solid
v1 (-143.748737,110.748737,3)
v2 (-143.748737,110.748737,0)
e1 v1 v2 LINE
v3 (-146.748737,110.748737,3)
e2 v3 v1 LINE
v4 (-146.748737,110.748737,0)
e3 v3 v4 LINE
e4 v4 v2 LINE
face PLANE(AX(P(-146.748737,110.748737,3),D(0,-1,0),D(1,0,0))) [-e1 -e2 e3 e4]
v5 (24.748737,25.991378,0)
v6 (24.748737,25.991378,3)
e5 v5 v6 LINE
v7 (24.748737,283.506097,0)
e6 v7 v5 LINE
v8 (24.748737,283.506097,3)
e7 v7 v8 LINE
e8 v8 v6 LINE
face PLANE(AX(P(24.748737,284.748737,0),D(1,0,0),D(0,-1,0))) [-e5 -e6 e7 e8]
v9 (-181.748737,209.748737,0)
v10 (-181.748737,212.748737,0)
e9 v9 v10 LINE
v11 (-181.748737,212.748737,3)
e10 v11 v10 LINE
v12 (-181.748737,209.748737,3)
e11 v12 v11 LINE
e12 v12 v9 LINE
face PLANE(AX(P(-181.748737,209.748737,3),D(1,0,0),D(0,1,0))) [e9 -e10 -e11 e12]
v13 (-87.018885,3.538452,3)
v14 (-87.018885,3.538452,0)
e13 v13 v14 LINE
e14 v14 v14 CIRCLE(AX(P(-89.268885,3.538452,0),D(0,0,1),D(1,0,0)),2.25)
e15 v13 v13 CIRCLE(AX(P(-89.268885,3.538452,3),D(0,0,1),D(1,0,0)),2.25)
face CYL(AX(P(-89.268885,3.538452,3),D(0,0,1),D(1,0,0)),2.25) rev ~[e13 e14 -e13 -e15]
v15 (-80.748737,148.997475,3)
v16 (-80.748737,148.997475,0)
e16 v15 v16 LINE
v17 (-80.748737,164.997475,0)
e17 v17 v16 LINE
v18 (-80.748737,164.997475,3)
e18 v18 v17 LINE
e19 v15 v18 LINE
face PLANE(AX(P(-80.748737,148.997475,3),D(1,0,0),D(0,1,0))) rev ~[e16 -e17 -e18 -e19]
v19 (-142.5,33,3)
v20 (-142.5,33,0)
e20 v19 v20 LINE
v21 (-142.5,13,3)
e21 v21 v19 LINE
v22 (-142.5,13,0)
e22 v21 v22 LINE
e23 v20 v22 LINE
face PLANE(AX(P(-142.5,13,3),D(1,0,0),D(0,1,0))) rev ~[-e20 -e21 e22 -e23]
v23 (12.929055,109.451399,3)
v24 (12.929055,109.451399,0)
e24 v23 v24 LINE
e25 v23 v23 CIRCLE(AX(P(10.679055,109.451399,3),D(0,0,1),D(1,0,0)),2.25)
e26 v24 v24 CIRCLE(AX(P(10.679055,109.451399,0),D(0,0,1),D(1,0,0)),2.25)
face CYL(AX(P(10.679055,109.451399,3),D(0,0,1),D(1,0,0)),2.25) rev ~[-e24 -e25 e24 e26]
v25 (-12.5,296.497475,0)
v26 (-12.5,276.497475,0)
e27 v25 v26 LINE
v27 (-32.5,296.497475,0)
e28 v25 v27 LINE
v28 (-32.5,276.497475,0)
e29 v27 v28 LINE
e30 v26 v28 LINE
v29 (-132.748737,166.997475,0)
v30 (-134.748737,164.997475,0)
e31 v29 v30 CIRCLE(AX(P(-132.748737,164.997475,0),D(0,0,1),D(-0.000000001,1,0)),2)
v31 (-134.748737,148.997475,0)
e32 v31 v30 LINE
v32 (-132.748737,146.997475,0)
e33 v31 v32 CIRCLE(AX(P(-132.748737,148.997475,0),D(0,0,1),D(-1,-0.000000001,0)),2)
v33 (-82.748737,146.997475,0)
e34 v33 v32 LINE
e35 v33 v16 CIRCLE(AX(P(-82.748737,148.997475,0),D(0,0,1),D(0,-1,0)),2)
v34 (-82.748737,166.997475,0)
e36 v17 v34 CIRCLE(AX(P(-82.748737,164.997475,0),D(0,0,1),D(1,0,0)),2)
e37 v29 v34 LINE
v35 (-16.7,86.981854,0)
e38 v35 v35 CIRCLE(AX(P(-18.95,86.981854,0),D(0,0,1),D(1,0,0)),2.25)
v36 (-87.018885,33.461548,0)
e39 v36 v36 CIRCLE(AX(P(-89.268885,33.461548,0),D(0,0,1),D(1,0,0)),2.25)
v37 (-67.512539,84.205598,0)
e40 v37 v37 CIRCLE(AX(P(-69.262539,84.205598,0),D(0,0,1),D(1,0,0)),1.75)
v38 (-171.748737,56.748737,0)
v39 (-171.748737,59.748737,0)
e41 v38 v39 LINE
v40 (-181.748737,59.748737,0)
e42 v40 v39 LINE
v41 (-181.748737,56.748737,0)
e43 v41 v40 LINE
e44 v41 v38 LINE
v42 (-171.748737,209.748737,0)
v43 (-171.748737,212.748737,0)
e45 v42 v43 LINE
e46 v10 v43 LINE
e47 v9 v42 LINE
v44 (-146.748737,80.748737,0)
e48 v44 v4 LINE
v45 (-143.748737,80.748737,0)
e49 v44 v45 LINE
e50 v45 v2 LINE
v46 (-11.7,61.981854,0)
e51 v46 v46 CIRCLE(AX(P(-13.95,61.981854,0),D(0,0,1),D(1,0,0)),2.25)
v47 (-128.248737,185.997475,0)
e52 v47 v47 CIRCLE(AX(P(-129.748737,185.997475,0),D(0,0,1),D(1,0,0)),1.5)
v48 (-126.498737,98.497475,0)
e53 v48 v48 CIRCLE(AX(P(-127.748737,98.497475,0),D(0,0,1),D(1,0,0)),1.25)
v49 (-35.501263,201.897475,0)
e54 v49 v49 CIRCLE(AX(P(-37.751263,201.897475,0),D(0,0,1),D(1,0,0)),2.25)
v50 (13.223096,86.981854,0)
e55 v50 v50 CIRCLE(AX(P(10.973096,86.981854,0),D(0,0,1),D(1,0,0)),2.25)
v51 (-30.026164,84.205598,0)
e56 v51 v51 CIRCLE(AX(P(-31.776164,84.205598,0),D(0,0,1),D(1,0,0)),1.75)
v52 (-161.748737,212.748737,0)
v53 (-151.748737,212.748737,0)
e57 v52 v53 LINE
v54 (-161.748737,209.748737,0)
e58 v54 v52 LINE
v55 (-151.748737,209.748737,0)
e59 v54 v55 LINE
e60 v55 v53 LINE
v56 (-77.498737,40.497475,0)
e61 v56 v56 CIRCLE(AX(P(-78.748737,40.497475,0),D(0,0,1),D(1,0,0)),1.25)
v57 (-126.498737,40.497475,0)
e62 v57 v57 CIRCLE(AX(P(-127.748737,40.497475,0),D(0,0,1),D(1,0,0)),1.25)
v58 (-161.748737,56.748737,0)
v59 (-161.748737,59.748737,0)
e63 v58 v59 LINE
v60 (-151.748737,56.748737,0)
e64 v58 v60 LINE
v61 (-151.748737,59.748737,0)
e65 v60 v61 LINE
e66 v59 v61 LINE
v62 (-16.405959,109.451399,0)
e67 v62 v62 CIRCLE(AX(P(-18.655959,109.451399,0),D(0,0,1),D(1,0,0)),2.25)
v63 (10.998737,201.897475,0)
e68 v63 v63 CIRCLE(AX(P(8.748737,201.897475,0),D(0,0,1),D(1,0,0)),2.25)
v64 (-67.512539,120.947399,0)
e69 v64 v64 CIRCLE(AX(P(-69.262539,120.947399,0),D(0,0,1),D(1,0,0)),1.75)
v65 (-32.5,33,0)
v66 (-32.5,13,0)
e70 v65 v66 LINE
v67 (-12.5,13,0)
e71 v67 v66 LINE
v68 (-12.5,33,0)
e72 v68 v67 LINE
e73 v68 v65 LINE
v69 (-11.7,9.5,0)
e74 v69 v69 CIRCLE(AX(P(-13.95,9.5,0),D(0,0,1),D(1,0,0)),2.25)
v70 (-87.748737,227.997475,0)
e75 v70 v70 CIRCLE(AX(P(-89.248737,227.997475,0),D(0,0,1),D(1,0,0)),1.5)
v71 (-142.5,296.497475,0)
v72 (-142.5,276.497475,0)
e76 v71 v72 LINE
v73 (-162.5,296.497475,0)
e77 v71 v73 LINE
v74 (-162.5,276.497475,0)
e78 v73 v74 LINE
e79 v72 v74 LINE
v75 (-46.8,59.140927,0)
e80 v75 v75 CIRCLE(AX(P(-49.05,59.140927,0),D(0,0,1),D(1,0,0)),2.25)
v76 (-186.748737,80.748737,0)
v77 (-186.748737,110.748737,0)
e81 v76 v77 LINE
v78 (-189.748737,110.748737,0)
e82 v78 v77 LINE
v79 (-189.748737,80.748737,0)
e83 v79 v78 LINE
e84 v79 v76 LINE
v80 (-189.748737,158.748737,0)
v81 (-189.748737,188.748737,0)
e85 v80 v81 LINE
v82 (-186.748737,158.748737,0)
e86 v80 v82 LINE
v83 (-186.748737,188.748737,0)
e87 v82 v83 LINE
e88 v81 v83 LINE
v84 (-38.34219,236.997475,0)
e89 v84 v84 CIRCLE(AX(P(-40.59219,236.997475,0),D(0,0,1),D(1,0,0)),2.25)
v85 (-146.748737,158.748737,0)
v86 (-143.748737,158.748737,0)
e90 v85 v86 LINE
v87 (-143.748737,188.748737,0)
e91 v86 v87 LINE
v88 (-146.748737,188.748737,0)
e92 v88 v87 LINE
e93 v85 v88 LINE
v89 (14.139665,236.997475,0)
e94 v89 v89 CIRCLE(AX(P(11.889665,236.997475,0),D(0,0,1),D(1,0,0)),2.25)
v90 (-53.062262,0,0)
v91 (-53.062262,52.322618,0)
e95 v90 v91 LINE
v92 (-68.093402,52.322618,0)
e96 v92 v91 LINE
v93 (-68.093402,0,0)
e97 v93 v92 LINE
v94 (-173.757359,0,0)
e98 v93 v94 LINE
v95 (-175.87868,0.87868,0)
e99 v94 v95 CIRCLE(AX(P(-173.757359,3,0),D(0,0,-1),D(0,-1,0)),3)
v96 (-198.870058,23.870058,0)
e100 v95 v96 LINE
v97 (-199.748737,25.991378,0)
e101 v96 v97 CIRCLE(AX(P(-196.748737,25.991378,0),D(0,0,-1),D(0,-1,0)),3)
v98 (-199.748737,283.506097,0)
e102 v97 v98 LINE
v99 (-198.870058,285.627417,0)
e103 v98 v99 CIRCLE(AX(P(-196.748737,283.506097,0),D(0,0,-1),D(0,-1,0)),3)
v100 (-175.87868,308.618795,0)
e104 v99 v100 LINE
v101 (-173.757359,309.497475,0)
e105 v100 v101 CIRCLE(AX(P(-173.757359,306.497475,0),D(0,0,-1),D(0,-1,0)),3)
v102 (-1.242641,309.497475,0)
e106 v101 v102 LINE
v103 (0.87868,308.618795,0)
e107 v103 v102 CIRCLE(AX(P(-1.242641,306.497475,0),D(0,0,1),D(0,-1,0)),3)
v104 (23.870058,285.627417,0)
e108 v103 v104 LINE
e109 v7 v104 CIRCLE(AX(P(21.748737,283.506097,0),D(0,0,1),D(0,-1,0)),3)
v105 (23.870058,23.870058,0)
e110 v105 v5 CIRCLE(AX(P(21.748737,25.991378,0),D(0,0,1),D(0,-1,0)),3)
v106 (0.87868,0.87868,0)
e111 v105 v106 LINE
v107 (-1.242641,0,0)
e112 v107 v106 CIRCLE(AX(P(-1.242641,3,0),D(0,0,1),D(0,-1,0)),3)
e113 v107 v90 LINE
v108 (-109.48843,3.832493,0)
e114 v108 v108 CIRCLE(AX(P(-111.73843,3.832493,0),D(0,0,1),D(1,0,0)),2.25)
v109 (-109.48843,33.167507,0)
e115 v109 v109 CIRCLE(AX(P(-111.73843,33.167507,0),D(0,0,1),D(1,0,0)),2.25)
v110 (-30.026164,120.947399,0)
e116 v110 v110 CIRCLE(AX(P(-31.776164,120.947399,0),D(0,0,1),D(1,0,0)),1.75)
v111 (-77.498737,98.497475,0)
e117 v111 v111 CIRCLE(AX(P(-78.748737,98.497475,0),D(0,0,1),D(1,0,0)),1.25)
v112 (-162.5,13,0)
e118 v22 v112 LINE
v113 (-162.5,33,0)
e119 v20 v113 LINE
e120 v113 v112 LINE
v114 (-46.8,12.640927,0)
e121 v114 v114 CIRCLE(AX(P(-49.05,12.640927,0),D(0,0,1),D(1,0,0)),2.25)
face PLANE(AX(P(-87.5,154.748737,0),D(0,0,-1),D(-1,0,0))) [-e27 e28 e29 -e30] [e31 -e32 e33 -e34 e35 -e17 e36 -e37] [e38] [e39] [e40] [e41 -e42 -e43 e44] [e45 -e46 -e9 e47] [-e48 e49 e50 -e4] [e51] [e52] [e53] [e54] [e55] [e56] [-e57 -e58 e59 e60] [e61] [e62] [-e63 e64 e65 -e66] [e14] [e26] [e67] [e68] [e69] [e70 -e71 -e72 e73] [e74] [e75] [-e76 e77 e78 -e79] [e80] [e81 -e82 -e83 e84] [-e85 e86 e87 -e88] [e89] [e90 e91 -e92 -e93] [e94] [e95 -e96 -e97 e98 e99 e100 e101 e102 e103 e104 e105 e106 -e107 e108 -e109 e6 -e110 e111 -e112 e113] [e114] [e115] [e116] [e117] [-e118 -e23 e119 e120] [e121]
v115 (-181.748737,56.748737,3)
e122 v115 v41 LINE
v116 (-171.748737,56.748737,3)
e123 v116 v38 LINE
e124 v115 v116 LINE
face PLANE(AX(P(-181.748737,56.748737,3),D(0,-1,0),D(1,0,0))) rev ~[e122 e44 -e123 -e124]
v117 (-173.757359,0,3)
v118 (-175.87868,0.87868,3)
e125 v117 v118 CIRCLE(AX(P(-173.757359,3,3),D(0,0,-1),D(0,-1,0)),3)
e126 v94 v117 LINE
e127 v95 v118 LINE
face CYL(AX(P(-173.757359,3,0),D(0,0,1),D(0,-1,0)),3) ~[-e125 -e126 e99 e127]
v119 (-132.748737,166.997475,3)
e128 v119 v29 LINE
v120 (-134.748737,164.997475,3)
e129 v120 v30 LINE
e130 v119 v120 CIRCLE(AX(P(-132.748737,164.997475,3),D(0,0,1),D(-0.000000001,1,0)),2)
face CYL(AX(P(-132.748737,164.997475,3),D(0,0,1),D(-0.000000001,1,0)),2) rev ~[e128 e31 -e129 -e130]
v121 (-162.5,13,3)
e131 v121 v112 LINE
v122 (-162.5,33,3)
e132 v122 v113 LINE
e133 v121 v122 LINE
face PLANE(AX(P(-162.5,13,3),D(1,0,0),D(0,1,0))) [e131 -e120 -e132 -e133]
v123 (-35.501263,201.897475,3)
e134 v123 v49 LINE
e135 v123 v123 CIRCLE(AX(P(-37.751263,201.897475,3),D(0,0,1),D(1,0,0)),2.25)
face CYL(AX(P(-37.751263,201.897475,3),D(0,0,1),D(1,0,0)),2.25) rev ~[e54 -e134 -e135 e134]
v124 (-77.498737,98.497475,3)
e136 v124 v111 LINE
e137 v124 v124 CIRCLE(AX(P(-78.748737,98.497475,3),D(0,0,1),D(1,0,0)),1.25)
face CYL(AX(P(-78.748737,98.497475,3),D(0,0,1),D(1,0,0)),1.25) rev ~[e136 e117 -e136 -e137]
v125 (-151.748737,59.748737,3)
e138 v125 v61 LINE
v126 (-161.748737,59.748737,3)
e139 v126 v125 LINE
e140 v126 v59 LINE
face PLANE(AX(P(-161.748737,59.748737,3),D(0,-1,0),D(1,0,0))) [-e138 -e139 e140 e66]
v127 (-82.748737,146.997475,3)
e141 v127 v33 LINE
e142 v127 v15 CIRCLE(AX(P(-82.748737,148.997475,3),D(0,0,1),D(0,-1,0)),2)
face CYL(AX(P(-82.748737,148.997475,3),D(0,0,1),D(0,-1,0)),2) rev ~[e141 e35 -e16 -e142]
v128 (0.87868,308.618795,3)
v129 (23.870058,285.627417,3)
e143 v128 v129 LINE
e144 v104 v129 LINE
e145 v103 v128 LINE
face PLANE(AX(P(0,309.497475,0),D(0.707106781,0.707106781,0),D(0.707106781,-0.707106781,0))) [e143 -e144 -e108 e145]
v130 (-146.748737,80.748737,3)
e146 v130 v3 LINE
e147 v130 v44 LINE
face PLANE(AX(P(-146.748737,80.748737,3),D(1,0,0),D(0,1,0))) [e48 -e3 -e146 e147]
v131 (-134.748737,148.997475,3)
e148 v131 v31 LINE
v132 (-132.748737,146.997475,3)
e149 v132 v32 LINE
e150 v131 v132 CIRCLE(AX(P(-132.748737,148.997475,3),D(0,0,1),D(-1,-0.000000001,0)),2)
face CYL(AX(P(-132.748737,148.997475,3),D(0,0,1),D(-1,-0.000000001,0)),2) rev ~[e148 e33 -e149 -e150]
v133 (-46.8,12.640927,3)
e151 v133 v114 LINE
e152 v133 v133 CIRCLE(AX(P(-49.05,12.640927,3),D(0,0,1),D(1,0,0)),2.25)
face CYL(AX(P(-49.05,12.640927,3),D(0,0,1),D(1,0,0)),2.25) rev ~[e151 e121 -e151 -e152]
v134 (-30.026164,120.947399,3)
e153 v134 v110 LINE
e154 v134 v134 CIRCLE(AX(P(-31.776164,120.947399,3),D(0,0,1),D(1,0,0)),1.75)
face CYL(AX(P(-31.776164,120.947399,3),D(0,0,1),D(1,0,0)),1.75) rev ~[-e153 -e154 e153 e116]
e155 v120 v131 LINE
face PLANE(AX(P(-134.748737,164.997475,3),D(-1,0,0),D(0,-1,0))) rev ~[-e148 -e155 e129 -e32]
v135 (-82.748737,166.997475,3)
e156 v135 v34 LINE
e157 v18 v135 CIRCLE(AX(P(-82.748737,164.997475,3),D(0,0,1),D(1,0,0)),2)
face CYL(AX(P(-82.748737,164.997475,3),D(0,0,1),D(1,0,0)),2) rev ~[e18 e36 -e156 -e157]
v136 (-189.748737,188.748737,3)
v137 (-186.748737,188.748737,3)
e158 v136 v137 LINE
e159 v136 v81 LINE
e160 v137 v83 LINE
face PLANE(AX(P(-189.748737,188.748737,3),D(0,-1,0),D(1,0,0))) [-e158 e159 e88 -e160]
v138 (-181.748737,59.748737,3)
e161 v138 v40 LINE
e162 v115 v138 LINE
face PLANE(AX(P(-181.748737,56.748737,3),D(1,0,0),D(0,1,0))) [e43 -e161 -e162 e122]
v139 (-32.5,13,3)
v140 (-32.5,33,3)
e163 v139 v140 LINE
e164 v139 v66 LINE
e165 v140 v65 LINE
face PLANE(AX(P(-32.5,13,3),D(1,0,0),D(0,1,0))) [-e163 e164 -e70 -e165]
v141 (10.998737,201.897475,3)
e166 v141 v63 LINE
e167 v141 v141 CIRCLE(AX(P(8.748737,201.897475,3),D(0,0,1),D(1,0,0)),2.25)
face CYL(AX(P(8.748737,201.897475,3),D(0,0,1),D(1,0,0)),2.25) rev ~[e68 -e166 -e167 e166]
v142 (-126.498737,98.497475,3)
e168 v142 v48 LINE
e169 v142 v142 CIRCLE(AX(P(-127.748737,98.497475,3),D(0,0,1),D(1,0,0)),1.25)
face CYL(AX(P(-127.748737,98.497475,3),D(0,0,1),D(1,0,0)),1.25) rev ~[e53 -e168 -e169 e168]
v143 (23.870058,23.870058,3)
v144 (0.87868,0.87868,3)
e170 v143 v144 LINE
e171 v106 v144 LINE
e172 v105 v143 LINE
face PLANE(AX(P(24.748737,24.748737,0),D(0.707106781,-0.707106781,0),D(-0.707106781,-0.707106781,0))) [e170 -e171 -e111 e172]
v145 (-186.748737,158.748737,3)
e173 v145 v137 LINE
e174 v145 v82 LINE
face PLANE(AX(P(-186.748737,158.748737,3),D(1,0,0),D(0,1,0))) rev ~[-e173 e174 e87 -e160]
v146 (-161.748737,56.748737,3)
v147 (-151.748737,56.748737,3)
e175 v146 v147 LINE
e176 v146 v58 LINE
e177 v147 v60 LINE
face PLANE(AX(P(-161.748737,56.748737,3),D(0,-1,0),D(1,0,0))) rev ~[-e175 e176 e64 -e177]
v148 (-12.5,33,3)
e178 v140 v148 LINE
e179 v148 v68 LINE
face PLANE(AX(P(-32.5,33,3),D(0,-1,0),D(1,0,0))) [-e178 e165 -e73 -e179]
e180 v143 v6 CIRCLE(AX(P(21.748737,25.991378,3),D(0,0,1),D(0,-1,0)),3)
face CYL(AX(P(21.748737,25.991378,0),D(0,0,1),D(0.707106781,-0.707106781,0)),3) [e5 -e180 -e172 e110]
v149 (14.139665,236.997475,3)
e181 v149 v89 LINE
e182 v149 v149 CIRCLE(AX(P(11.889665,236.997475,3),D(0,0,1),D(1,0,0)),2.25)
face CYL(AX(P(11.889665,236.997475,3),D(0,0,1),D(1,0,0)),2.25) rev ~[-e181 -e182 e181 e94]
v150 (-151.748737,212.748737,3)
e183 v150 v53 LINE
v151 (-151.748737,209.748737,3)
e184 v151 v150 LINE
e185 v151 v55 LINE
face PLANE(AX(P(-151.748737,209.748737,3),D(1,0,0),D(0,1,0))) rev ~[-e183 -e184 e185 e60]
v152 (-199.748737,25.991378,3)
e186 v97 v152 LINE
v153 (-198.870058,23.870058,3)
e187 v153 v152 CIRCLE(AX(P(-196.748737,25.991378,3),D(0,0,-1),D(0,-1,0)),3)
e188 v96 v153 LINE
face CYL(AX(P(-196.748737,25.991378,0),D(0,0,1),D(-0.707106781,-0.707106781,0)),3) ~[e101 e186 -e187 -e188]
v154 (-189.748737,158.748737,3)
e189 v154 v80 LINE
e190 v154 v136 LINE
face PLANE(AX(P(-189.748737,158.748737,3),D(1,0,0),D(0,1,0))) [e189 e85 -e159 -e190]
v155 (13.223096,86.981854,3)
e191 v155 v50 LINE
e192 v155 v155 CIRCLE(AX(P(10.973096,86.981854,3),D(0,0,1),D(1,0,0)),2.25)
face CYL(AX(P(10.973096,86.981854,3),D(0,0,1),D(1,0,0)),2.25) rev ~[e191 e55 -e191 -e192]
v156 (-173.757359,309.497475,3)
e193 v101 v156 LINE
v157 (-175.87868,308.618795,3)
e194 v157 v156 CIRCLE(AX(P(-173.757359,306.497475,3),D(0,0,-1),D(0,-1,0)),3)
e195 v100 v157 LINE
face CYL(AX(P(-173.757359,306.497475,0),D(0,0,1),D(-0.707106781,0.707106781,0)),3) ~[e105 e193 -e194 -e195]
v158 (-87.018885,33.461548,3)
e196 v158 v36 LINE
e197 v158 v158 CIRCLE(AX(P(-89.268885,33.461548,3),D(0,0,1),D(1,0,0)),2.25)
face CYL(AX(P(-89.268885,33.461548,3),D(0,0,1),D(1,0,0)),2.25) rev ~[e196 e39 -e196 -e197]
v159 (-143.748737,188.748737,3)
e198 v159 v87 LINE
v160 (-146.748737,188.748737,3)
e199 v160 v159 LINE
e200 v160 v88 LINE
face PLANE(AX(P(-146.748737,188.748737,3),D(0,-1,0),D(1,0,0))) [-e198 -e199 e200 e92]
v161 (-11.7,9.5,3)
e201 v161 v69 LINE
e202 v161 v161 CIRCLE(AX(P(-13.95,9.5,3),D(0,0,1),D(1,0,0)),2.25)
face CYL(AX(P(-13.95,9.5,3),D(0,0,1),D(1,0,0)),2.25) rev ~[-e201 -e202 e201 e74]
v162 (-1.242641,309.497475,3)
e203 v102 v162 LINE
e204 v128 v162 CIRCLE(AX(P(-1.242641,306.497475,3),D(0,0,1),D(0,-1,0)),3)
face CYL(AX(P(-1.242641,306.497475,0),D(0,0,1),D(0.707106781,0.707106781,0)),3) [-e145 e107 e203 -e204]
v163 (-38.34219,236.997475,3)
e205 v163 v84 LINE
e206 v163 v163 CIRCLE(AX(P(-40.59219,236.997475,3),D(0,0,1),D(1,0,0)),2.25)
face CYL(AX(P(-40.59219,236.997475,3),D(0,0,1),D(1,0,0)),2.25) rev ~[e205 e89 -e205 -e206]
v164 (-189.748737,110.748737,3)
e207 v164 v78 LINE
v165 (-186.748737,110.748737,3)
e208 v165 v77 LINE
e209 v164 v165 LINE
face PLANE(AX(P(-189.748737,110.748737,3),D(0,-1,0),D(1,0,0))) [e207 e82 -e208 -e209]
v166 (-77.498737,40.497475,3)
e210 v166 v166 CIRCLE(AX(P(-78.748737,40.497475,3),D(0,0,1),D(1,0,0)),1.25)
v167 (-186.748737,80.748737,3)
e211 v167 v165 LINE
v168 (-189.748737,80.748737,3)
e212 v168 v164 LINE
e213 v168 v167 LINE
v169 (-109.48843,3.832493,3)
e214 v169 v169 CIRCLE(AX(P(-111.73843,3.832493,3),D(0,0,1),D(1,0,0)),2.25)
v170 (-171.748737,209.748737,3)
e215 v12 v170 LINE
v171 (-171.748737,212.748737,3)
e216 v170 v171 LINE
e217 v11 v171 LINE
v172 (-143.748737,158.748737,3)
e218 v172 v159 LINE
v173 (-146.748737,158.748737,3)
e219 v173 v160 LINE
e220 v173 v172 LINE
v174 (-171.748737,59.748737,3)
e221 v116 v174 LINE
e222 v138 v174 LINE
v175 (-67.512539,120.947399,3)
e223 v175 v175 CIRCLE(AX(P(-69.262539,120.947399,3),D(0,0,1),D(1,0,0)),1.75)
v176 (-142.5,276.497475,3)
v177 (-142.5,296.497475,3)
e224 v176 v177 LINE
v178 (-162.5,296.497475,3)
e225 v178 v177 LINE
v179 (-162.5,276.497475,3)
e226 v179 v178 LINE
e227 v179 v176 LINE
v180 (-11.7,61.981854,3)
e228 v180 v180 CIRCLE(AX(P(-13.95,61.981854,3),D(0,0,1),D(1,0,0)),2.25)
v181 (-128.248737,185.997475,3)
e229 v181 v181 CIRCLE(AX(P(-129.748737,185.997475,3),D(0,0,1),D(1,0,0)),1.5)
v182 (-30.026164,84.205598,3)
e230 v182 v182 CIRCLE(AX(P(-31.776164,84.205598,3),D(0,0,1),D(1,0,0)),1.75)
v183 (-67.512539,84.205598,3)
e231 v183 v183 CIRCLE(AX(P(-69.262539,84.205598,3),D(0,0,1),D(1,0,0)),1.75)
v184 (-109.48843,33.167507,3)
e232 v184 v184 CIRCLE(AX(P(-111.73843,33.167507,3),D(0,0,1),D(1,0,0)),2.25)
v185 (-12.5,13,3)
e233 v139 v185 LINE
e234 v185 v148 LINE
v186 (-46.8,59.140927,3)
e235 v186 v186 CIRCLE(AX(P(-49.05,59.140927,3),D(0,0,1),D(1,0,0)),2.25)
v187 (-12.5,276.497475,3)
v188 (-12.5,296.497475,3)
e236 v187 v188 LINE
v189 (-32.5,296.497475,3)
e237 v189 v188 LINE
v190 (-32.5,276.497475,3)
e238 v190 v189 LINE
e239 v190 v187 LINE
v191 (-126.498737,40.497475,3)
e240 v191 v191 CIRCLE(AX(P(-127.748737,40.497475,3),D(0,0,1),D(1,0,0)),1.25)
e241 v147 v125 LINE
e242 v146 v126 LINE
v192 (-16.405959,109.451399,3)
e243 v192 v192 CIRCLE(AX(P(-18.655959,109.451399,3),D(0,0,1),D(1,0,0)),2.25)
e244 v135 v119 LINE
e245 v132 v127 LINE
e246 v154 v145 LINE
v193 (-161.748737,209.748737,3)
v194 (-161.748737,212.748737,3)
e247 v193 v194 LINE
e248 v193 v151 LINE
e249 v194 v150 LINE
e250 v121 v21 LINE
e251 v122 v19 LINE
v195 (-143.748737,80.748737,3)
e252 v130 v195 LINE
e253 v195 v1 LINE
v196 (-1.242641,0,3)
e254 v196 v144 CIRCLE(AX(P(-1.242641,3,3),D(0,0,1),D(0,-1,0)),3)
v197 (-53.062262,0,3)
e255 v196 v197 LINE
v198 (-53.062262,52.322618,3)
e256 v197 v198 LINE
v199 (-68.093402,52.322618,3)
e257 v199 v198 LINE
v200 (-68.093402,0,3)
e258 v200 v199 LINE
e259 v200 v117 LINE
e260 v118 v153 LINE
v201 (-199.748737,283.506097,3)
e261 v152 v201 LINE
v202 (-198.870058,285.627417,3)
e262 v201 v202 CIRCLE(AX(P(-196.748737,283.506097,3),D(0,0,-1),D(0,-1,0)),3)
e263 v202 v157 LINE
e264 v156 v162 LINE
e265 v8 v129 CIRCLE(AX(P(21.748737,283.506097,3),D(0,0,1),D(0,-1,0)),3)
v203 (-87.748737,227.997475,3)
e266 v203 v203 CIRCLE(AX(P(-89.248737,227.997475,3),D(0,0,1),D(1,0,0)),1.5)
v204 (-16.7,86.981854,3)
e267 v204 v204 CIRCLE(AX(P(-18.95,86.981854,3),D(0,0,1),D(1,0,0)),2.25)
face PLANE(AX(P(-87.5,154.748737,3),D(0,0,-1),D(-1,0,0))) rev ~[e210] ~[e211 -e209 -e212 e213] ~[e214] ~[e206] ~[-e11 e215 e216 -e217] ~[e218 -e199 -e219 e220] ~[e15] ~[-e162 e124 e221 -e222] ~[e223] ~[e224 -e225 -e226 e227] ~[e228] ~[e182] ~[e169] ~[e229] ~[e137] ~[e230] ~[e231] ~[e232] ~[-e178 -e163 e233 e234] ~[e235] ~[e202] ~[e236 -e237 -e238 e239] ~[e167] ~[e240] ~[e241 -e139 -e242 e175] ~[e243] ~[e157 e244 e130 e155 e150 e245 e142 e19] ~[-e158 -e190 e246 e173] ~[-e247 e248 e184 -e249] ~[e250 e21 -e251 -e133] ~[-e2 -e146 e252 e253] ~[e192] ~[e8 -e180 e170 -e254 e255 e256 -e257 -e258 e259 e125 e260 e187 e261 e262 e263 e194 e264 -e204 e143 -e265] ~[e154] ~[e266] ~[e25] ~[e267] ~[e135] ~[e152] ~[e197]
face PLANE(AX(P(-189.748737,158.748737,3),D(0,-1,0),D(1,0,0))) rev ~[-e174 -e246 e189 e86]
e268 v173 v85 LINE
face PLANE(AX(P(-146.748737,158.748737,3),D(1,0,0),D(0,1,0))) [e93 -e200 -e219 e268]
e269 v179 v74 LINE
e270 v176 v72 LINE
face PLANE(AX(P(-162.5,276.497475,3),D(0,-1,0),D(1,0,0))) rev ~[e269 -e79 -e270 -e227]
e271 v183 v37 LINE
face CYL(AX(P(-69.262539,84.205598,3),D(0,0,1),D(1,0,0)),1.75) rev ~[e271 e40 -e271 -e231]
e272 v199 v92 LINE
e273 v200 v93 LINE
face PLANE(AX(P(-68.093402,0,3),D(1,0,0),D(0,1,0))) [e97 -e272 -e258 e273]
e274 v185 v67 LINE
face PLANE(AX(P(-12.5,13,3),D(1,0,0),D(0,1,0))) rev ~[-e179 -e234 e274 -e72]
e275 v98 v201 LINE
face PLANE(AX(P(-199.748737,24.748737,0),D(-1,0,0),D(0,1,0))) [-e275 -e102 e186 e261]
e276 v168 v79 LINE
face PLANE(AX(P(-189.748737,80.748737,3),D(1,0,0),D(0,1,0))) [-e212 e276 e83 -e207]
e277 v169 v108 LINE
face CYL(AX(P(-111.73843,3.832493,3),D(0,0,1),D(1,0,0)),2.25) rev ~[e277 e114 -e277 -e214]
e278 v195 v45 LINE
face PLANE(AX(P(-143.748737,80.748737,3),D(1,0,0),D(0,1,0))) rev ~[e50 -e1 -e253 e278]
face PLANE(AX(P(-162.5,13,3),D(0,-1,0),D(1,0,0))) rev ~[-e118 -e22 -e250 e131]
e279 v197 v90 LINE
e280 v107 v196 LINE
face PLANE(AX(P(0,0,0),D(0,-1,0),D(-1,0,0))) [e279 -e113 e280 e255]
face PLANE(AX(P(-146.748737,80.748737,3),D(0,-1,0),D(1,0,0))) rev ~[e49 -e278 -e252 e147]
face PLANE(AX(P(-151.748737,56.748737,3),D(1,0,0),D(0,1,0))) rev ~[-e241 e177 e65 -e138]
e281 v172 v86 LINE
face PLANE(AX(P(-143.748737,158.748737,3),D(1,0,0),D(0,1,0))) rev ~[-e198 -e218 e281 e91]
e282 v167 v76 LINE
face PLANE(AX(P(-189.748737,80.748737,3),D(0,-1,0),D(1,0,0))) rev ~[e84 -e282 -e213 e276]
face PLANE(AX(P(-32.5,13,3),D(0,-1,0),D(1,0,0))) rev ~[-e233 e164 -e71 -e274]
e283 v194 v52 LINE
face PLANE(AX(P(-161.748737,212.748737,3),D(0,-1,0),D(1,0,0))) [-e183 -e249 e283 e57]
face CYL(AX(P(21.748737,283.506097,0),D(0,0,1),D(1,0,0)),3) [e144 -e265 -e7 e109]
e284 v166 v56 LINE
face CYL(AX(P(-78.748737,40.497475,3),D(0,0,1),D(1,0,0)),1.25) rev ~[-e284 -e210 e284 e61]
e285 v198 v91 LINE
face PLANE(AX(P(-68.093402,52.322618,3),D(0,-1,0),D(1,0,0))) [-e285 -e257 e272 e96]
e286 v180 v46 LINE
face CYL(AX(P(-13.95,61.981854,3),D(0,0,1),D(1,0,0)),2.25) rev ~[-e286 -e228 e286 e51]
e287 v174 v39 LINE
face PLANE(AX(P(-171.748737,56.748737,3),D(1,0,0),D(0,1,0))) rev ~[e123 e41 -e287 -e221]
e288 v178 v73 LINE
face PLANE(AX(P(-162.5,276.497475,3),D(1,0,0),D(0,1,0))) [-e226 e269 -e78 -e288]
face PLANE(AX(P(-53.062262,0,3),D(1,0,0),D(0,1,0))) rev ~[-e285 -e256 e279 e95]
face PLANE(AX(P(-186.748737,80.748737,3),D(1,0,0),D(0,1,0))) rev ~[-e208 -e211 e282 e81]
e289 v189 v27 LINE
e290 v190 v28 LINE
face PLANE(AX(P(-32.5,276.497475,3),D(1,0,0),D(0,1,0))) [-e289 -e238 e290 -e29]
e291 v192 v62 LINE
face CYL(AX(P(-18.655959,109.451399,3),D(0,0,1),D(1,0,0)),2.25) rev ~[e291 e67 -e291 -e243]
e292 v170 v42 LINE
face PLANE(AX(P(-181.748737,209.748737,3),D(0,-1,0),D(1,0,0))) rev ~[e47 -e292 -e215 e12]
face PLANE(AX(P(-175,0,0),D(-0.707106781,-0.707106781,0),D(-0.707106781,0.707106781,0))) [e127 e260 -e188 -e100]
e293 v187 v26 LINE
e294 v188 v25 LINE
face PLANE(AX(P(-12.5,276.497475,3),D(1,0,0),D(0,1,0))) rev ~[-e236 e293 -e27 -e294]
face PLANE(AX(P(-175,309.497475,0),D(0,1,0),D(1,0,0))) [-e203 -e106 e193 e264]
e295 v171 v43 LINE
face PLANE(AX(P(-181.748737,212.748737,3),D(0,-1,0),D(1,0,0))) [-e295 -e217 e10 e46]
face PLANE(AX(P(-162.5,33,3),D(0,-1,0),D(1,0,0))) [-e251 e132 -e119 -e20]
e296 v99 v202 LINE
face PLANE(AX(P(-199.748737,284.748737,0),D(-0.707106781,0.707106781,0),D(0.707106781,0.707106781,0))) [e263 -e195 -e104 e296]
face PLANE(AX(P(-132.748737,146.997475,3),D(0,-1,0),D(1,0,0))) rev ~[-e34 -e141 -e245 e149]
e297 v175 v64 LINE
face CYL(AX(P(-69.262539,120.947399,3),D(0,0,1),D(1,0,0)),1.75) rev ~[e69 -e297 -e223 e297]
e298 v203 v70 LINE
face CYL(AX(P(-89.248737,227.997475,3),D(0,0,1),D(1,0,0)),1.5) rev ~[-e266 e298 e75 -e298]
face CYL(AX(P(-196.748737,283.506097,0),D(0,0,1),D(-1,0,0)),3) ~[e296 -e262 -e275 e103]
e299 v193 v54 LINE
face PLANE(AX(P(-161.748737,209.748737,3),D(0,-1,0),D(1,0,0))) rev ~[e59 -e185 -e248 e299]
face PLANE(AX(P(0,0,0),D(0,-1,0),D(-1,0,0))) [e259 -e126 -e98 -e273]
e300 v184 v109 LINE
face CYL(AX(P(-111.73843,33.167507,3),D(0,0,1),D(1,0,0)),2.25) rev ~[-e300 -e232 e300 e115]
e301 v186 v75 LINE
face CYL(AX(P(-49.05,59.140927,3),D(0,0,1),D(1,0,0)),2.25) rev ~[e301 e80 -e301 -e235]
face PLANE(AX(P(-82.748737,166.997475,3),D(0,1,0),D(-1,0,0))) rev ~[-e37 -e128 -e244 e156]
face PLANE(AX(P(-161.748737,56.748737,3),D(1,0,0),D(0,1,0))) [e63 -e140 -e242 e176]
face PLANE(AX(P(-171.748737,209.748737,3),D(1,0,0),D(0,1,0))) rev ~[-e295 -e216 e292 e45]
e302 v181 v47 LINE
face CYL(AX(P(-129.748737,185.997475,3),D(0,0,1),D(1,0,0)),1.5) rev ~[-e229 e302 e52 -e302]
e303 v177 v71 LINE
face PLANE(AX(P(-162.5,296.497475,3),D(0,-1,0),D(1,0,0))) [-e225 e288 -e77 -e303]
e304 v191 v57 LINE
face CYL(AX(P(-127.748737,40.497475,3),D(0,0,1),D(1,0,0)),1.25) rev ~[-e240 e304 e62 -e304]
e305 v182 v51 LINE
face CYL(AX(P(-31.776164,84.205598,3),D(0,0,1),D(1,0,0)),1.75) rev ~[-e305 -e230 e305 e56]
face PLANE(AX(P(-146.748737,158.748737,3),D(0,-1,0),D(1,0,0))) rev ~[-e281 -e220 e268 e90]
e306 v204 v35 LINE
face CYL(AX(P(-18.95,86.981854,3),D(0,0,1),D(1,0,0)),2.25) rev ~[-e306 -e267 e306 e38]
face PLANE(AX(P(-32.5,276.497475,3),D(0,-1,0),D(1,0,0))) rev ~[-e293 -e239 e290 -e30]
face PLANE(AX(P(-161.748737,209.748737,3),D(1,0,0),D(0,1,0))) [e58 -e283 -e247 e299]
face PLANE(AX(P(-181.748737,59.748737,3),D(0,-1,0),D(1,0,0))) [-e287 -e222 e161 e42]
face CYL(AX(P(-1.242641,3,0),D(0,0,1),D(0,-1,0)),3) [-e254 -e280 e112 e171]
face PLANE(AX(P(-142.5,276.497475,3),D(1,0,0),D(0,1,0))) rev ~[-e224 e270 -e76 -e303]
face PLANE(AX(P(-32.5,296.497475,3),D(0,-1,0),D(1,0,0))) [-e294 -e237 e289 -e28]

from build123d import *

# Parameters (mm, degrees)
BASE_DEPTH              = 3
ESQUISSE2_W             = 20
ESQUISSE2_H             = 20
ENL_V_MAT_EXTRU_1_DEPTH = 4
CONG_1_R                = 3
ESQUISSE4_R             = 1.25
ESQUISSE4_R_2           = 1.5
ENL_V_MAT_EXTRU_4_DEPTH = 4
ENL_V_MAT_EXTRU_5_REACH = 5
ESQUISSE5_R             = 2.25
ESQUISSE5_W             = 15.031140496
ESQUISSE5_H             = 52.322618027
PONT_H_MAL_PLACE_2_R    = 1.75
PONT_H_MAL_PLACE_DEPTH  = 3
ESQUISSE10_W            = 10
ESQUISSE10_H            = 3
ESQUISSE10_W_2          = 3
ESQUISSE10_H_2          = 30
ENL_V_MAT_EXTRU_7_DEPTH = 3


with BuildPart() as part:
    # Esquisse1 → Base (new body)
    with BuildSketch(Plane.XY):
        Polygon((0, 0), (-175, 0), (-199.748737342, 24.748737342), (-199.748737342, 284.748737342), (-175, 309.497474683), (0, 309.497474683), (24.748737342, 284.748737342), (24.748737342, 24.748737342), align=None)
    extrude(amount=BASE_DEPTH)

    # Esquisse2 → Enlèv. mat.-Extru.1 (cut, through all)
    with BuildSketch(Plane.XY.offset(3)):
        with Locations((-152.5, 286.497474683)):
            Rectangle(ESQUISSE2_W, ESQUISSE2_H)
        with Locations((-152.5, 23)):
            Rectangle(ESQUISSE2_W, ESQUISSE2_H)
        with Locations((-22.5, 23)):
            Rectangle(ESQUISSE2_W, ESQUISSE2_H)
        with Locations((-22.5, 286.497474683)):
            Rectangle(ESQUISSE2_W, ESQUISSE2_H)
    extrude(amount=-ENL_V_MAT_EXTRU_1_DEPTH, mode=Mode.SUBTRACT)

    # Congé1
    cong_1_edges = [part.edges().sort_by_distance(p)[0] for p in [
        (0, 0, 1.5),
        (-175, 0, 1.5),
        (-199.748737342, 24.748737342, 1.5),
        (-199.748737342, 284.748737342, 1.5),
        (-175, 309.497474683, 1.5),
        (0, 309.497474683, 1.5),
        (24.748737342, 284.748737342, 1.5),
        (24.748737342, 24.748737342, 1.5),
    ]]
    fillet(cong_1_edges, radius=CONG_1_R)

    # Esquisse4 → Enlèv. mat.-Extru.4 (cut, through all)
    with BuildSketch(Plane.XY.offset(3)):
        with Locations((-78.748737342, 98.497474683)):
            Circle(ESQUISSE4_R)
        with Locations((-127.748737342, 98.497474683)):
            Circle(ESQUISSE4_R)
        with Locations((-78.748737342, 40.497474683)):
            Circle(ESQUISSE4_R)
        with Locations((-127.748737342, 40.497474683)):
            Circle(ESQUISSE4_R)
        with Locations((-129.748737342, 185.997474683)):
            Circle(ESQUISSE4_R_2)
        with Locations((-89.248737342, 227.997474683)):
            Circle(ESQUISSE4_R_2)
        with BuildLine():
            Line((-82.748737342, 166.997474683), (-132.748737342, 166.997474683))
            ThreePointArc((-132.748737342, 166.997474683), (-134.162950904, 166.411688245), (-134.748737342, 164.997474683))
            Line((-134.748737342, 164.997474683), (-134.748737342, 148.997474683))
            ThreePointArc((-134.748737342, 148.997474683), (-134.162950904, 147.583261121), (-132.748737342, 146.997474683))
            Line((-132.748737342, 146.997474683), (-82.748737342, 146.997474683))
            ThreePointArc((-82.748737342, 146.997474683), (-81.334523779, 147.583261121), (-80.748737342, 148.997474683))
            Line((-80.748737342, 148.997474683), (-80.748737342, 164.997474683))
            ThreePointArc((-80.748737342, 164.997474683), (-81.334523779, 166.411688245), (-82.748737342, 166.997474683))
        make_face()
    extrude(amount=-ENL_V_MAT_EXTRU_4_DEPTH, mode=Mode.SUBTRACT)

    # Esquisse5 → Enlèv. mat.-Extru.5 (cut, up to next)
    with BuildSketch(Plane.XY.offset(3), mode=Mode.PRIVATE) as enl_v_mat_extru_5_sk1:
        with Locations((-111.738429941, 3.832493236)):
            Circle(ESQUISSE5_R)
    enl_v_mat_extru_5_tool1 = extrude(enl_v_mat_extru_5_sk1.sketch, amount=-ENL_V_MAT_EXTRU_5_REACH, mode=Mode.PRIVATE) & part.part
    add(enl_v_mat_extru_5_tool1.solids().sort_by_distance((-111.73843, 3.832493, 3))[0], mode=Mode.SUBTRACT)
    # Esquisse5 → Enlèv. mat.-Extru.5 (cut, up to next)
    with BuildSketch(Plane.XY.offset(3), mode=Mode.PRIVATE) as enl_v_mat_extru_5_sk2:
        with Locations((-89.268885084, 3.53845203)):
            Circle(ESQUISSE5_R)
    enl_v_mat_extru_5_tool2 = extrude(enl_v_mat_extru_5_sk2.sketch, amount=-ENL_V_MAT_EXTRU_5_REACH, mode=Mode.PRIVATE) & part.part
    add(enl_v_mat_extru_5_tool2.solids().sort_by_distance((-89.268885, 3.538452, 3))[0], mode=Mode.SUBTRACT)
    # Esquisse5 → Enlèv. mat.-Extru.5 (cut, up to next)
    with BuildSketch(Plane.XY.offset(3), mode=Mode.PRIVATE) as enl_v_mat_extru_5_sk3:
        with Locations((-89.268885084, 33.46154797)):
            Circle(ESQUISSE5_R)
    enl_v_mat_extru_5_tool3 = extrude(enl_v_mat_extru_5_sk3.sketch, amount=-ENL_V_MAT_EXTRU_5_REACH, mode=Mode.PRIVATE) & part.part
    add(enl_v_mat_extru_5_tool3.solids().sort_by_distance((-89.268885, 33.461548, 3))[0], mode=Mode.SUBTRACT)
    # Esquisse5 → Enlèv. mat.-Extru.5 (cut, up to next)
    with BuildSketch(Plane.XY.offset(3), mode=Mode.PRIVATE) as enl_v_mat_extru_5_sk4:
        with Locations((-111.738429941, 33.167506764)):
            Circle(ESQUISSE5_R)
    enl_v_mat_extru_5_tool4 = extrude(enl_v_mat_extru_5_sk4.sketch, amount=-ENL_V_MAT_EXTRU_5_REACH, mode=Mode.PRIVATE) & part.part
    add(enl_v_mat_extru_5_tool4.solids().sort_by_distance((-111.73843, 33.167507, 3))[0], mode=Mode.SUBTRACT)
    # Esquisse5 → Enlèv. mat.-Extru.5 (cut, up to next)
    with BuildSketch(Plane.XY.offset(3), mode=Mode.PRIVATE) as enl_v_mat_extru_5_sk5:
        with Locations((-49.05, 12.640927164)):
            Circle(ESQUISSE5_R)
    enl_v_mat_extru_5_tool5 = extrude(enl_v_mat_extru_5_sk5.sketch, amount=-ENL_V_MAT_EXTRU_5_REACH, mode=Mode.PRIVATE) & part.part
    add(enl_v_mat_extru_5_tool5.solids().sort_by_distance((-49.05, 12.640927, 3))[0], mode=Mode.SUBTRACT)
    # Esquisse5 → Enlèv. mat.-Extru.5 (cut, up to next)
    with BuildSketch(Plane.XY.offset(3), mode=Mode.PRIVATE) as enl_v_mat_extru_5_sk6:
        with Locations((-13.95, 9.5)):
            Circle(ESQUISSE5_R)
    enl_v_mat_extru_5_tool6 = extrude(enl_v_mat_extru_5_sk6.sketch, amount=-ENL_V_MAT_EXTRU_5_REACH, mode=Mode.PRIVATE) & part.part
    add(enl_v_mat_extru_5_tool6.solids().sort_by_distance((-13.95, 9.5, 3))[0], mode=Mode.SUBTRACT)
    # Esquisse5 → Enlèv. mat.-Extru.5 (cut, up to next)
    with BuildSketch(Plane.XY.offset(3), mode=Mode.PRIVATE) as enl_v_mat_extru_5_sk7:
        with Locations((-49.05, 59.140927164)):
            Circle(ESQUISSE5_R)
    enl_v_mat_extru_5_tool7 = extrude(enl_v_mat_extru_5_sk7.sketch, amount=-ENL_V_MAT_EXTRU_5_REACH, mode=Mode.PRIVATE) & part.part
    add(enl_v_mat_extru_5_tool7.solids().sort_by_distance((-49.05, 59.140927, 3))[0], mode=Mode.SUBTRACT)
    # Esquisse5 → Enlèv. mat.-Extru.5 (cut, up to next)
    with BuildSketch(Plane.XY.offset(3), mode=Mode.PRIVATE) as enl_v_mat_extru_5_sk8:
        with Locations((-13.95, 61.981854328)):
            Circle(ESQUISSE5_R)
    enl_v_mat_extru_5_tool8 = extrude(enl_v_mat_extru_5_sk8.sketch, amount=-ENL_V_MAT_EXTRU_5_REACH, mode=Mode.PRIVATE) & part.part
    add(enl_v_mat_extru_5_tool8.solids().sort_by_distance((-13.95, 61.981854, 3))[0], mode=Mode.SUBTRACT)
    # Esquisse5 → Enlèv. mat.-Extru.5 (cut, up to next)
    with BuildSketch(Plane.XY.offset(3), mode=Mode.PRIVATE) as enl_v_mat_extru_5_sk9:
        with Locations((8.748737342, 201.897474683)):
            Circle(ESQUISSE5_R)
    enl_v_mat_extru_5_tool9 = extrude(enl_v_mat_extru_5_sk9.sketch, amount=-ENL_V_MAT_EXTRU_5_REACH, mode=Mode.PRIVATE) & part.part
    add(enl_v_mat_extru_5_tool9.solids().sort_by_distance((8.748737, 201.897475, 3))[0], mode=Mode.SUBTRACT)
    # Esquisse5 → Enlèv. mat.-Extru.5 (cut, up to next)
    with BuildSketch(Plane.XY.offset(3), mode=Mode.PRIVATE) as enl_v_mat_extru_5_sk10:
        with Locations((11.889664506, 236.997474683)):
            Circle(ESQUISSE5_R)
    enl_v_mat_extru_5_tool10 = extrude(enl_v_mat_extru_5_sk10.sketch, amount=-ENL_V_MAT_EXTRU_5_REACH, mode=Mode.PRIVATE) & part.part
    add(enl_v_mat_extru_5_tool10.solids().sort_by_distance((11.889665, 236.997475, 3))[0], mode=Mode.SUBTRACT)
    # Esquisse5 → Enlèv. mat.-Extru.5 (cut, up to next)
    with BuildSketch(Plane.XY.offset(3), mode=Mode.PRIVATE) as enl_v_mat_extru_5_sk11:
        with Locations((-37.751262658, 201.897474683)):
            Circle(ESQUISSE5_R)
    enl_v_mat_extru_5_tool11 = extrude(enl_v_mat_extru_5_sk11.sketch, amount=-ENL_V_MAT_EXTRU_5_REACH, mode=Mode.PRIVATE) & part.part
    add(enl_v_mat_extru_5_tool11.solids().sort_by_distance((-37.751263, 201.897475, 3))[0], mode=Mode.SUBTRACT)
    # Esquisse5 → Enlèv. mat.-Extru.5 (cut, up to next)
    with BuildSketch(Plane.XY.offset(3), mode=Mode.PRIVATE) as enl_v_mat_extru_5_sk12:
        with Locations((-40.592189823, 236.997474683)):
            Circle(ESQUISSE5_R)
    enl_v_mat_extru_5_tool12 = extrude(enl_v_mat_extru_5_sk12.sketch, amount=-ENL_V_MAT_EXTRU_5_REACH, mode=Mode.PRIVATE) & part.part
    add(enl_v_mat_extru_5_tool12.solids().sort_by_distance((-40.59219, 236.997475, 3))[0], mode=Mode.SUBTRACT)
    # Esquisse5 → Enlèv. mat.-Extru.5 (cut, up to next)
    with BuildSketch(Plane.XY.offset(3), mode=Mode.PRIVATE) as enl_v_mat_extru_5_sk13:
        with Locations((-18.655958793, 109.451399186)):
            Circle(ESQUISSE5_R)
    enl_v_mat_extru_5_tool13 = extrude(enl_v_mat_extru_5_sk13.sketch, amount=-ENL_V_MAT_EXTRU_5_REACH, mode=Mode.PRIVATE) & part.part
    add(enl_v_mat_extru_5_tool13.solids().sort_by_distance((-18.655959, 109.451399, 3))[0], mode=Mode.SUBTRACT)
    # Esquisse5 → Enlèv. mat.-Extru.5 (cut, up to next)
    with BuildSketch(Plane.XY.offset(3), mode=Mode.PRIVATE) as enl_v_mat_extru_5_sk14:
        with Locations((-18.95, 86.981854328)):
            Circle(ESQUISSE5_R)
    enl_v_mat_extru_5_tool14 = extrude(enl_v_mat_extru_5_sk14.sketch, amount=-ENL_V_MAT_EXTRU_5_REACH, mode=Mode.PRIVATE) & part.part
    add(enl_v_mat_extru_5_tool14.solids().sort_by_distance((-18.95, 86.981854, 3))[0], mode=Mode.SUBTRACT)
    # Esquisse5 → Enlèv. mat.-Extru.5 (cut, up to next)
    with BuildSketch(Plane.XY.offset(3), mode=Mode.PRIVATE) as enl_v_mat_extru_5_sk15:
        with Locations((10.973095941, 86.981854328)):
            Circle(ESQUISSE5_R)
    enl_v_mat_extru_5_tool15 = extrude(enl_v_mat_extru_5_sk15.sketch, amount=-ENL_V_MAT_EXTRU_5_REACH, mode=Mode.PRIVATE) & part.part
    add(enl_v_mat_extru_5_tool15.solids().sort_by_distance((10.973096, 86.981854, 3))[0], mode=Mode.SUBTRACT)
    # Esquisse5 → Enlèv. mat.-Extru.5 (cut, up to next)
    with BuildSketch(Plane.XY.offset(3), mode=Mode.PRIVATE) as enl_v_mat_extru_5_sk16:
        with Locations((10.679054734, 109.451399186)):
            Circle(ESQUISSE5_R)
    enl_v_mat_extru_5_tool16 = extrude(enl_v_mat_extru_5_sk16.sketch, amount=-ENL_V_MAT_EXTRU_5_REACH, mode=Mode.PRIVATE) & part.part
    add(enl_v_mat_extru_5_tool16.solids().sort_by_distance((10.679055, 109.451399, 3))[0], mode=Mode.SUBTRACT)
    # Esquisse5 → Enlèv. mat.-Extru.5 (cut, up to next)
    with BuildSketch(Plane.XY.offset(3), mode=Mode.PRIVATE) as enl_v_mat_extru_5_sk17:
        with Locations((-60.577832016, 26.161309014)):
            Rectangle(ESQUISSE5_W, ESQUISSE5_H)
    enl_v_mat_extru_5_tool17 = extrude(enl_v_mat_extru_5_sk17.sketch, amount=-ENL_V_MAT_EXTRU_5_REACH, mode=Mode.PRIVATE) & part.part
    add(enl_v_mat_extru_5_tool17.solids().sort_by_distance((-60.577832, 26.161309, 3))[0], mode=Mode.SUBTRACT)

    # PONT H mal place 2 → pont_H_mal_place (cut)
    with BuildSketch(Plane.XY.offset(3)):
        with Locations((-69.262539319, 120.947398703)):
            Circle(PONT_H_MAL_PLACE_2_R)
        with Locations((-69.262539319, 84.205598383)):
            Circle(PONT_H_MAL_PLACE_2_R)
        with Locations((-31.776164099, 84.205598383)):
            Circle(PONT_H_MAL_PLACE_2_R)
        with Locations((-31.776164099, 120.947398703)):
            Circle(PONT_H_MAL_PLACE_2_R)
    extrude(amount=-PONT_H_MAL_PLACE_DEPTH, mode=Mode.SUBTRACT)

    # Esquisse10 → Enlèv. mat.-Extru.7 (cut)
    with BuildSketch(Plane.XY.offset(3)):
        with Locations((-176.748737342, 58.248737342)):
            Rectangle(ESQUISSE10_W, ESQUISSE10_H)
        with Locations((-188.248737342, 95.748737342)):
            Rectangle(ESQUISSE10_W_2, ESQUISSE10_H_2)
        with Locations((-156.748737342, 58.248737342)):
            Rectangle(ESQUISSE10_W, ESQUISSE10_H)
        with Locations((-145.248737342, 95.748737342)):
            Rectangle(ESQUISSE10_W_2, ESQUISSE10_H_2)
        with Locations((-188.248737342, 173.748737342)):
            Rectangle(ESQUISSE10_W_2, ESQUISSE10_H_2)
        with Locations((-156.748737342, 211.248737342)):
            Rectangle(ESQUISSE10_W, ESQUISSE10_H)
        with Locations((-176.748737342, 211.248737342)):
            Rectangle(ESQUISSE10_W, ESQUISSE10_H)
        with Locations((-145.248737342, 173.748737342)):
            Rectangle(ESQUISSE10_W_2, ESQUISSE10_H_2)
    extrude(amount=-ENL_V_MAT_EXTRU_7_DEPTH, mode=Mode.SUBTRACT)


solid = part.part
